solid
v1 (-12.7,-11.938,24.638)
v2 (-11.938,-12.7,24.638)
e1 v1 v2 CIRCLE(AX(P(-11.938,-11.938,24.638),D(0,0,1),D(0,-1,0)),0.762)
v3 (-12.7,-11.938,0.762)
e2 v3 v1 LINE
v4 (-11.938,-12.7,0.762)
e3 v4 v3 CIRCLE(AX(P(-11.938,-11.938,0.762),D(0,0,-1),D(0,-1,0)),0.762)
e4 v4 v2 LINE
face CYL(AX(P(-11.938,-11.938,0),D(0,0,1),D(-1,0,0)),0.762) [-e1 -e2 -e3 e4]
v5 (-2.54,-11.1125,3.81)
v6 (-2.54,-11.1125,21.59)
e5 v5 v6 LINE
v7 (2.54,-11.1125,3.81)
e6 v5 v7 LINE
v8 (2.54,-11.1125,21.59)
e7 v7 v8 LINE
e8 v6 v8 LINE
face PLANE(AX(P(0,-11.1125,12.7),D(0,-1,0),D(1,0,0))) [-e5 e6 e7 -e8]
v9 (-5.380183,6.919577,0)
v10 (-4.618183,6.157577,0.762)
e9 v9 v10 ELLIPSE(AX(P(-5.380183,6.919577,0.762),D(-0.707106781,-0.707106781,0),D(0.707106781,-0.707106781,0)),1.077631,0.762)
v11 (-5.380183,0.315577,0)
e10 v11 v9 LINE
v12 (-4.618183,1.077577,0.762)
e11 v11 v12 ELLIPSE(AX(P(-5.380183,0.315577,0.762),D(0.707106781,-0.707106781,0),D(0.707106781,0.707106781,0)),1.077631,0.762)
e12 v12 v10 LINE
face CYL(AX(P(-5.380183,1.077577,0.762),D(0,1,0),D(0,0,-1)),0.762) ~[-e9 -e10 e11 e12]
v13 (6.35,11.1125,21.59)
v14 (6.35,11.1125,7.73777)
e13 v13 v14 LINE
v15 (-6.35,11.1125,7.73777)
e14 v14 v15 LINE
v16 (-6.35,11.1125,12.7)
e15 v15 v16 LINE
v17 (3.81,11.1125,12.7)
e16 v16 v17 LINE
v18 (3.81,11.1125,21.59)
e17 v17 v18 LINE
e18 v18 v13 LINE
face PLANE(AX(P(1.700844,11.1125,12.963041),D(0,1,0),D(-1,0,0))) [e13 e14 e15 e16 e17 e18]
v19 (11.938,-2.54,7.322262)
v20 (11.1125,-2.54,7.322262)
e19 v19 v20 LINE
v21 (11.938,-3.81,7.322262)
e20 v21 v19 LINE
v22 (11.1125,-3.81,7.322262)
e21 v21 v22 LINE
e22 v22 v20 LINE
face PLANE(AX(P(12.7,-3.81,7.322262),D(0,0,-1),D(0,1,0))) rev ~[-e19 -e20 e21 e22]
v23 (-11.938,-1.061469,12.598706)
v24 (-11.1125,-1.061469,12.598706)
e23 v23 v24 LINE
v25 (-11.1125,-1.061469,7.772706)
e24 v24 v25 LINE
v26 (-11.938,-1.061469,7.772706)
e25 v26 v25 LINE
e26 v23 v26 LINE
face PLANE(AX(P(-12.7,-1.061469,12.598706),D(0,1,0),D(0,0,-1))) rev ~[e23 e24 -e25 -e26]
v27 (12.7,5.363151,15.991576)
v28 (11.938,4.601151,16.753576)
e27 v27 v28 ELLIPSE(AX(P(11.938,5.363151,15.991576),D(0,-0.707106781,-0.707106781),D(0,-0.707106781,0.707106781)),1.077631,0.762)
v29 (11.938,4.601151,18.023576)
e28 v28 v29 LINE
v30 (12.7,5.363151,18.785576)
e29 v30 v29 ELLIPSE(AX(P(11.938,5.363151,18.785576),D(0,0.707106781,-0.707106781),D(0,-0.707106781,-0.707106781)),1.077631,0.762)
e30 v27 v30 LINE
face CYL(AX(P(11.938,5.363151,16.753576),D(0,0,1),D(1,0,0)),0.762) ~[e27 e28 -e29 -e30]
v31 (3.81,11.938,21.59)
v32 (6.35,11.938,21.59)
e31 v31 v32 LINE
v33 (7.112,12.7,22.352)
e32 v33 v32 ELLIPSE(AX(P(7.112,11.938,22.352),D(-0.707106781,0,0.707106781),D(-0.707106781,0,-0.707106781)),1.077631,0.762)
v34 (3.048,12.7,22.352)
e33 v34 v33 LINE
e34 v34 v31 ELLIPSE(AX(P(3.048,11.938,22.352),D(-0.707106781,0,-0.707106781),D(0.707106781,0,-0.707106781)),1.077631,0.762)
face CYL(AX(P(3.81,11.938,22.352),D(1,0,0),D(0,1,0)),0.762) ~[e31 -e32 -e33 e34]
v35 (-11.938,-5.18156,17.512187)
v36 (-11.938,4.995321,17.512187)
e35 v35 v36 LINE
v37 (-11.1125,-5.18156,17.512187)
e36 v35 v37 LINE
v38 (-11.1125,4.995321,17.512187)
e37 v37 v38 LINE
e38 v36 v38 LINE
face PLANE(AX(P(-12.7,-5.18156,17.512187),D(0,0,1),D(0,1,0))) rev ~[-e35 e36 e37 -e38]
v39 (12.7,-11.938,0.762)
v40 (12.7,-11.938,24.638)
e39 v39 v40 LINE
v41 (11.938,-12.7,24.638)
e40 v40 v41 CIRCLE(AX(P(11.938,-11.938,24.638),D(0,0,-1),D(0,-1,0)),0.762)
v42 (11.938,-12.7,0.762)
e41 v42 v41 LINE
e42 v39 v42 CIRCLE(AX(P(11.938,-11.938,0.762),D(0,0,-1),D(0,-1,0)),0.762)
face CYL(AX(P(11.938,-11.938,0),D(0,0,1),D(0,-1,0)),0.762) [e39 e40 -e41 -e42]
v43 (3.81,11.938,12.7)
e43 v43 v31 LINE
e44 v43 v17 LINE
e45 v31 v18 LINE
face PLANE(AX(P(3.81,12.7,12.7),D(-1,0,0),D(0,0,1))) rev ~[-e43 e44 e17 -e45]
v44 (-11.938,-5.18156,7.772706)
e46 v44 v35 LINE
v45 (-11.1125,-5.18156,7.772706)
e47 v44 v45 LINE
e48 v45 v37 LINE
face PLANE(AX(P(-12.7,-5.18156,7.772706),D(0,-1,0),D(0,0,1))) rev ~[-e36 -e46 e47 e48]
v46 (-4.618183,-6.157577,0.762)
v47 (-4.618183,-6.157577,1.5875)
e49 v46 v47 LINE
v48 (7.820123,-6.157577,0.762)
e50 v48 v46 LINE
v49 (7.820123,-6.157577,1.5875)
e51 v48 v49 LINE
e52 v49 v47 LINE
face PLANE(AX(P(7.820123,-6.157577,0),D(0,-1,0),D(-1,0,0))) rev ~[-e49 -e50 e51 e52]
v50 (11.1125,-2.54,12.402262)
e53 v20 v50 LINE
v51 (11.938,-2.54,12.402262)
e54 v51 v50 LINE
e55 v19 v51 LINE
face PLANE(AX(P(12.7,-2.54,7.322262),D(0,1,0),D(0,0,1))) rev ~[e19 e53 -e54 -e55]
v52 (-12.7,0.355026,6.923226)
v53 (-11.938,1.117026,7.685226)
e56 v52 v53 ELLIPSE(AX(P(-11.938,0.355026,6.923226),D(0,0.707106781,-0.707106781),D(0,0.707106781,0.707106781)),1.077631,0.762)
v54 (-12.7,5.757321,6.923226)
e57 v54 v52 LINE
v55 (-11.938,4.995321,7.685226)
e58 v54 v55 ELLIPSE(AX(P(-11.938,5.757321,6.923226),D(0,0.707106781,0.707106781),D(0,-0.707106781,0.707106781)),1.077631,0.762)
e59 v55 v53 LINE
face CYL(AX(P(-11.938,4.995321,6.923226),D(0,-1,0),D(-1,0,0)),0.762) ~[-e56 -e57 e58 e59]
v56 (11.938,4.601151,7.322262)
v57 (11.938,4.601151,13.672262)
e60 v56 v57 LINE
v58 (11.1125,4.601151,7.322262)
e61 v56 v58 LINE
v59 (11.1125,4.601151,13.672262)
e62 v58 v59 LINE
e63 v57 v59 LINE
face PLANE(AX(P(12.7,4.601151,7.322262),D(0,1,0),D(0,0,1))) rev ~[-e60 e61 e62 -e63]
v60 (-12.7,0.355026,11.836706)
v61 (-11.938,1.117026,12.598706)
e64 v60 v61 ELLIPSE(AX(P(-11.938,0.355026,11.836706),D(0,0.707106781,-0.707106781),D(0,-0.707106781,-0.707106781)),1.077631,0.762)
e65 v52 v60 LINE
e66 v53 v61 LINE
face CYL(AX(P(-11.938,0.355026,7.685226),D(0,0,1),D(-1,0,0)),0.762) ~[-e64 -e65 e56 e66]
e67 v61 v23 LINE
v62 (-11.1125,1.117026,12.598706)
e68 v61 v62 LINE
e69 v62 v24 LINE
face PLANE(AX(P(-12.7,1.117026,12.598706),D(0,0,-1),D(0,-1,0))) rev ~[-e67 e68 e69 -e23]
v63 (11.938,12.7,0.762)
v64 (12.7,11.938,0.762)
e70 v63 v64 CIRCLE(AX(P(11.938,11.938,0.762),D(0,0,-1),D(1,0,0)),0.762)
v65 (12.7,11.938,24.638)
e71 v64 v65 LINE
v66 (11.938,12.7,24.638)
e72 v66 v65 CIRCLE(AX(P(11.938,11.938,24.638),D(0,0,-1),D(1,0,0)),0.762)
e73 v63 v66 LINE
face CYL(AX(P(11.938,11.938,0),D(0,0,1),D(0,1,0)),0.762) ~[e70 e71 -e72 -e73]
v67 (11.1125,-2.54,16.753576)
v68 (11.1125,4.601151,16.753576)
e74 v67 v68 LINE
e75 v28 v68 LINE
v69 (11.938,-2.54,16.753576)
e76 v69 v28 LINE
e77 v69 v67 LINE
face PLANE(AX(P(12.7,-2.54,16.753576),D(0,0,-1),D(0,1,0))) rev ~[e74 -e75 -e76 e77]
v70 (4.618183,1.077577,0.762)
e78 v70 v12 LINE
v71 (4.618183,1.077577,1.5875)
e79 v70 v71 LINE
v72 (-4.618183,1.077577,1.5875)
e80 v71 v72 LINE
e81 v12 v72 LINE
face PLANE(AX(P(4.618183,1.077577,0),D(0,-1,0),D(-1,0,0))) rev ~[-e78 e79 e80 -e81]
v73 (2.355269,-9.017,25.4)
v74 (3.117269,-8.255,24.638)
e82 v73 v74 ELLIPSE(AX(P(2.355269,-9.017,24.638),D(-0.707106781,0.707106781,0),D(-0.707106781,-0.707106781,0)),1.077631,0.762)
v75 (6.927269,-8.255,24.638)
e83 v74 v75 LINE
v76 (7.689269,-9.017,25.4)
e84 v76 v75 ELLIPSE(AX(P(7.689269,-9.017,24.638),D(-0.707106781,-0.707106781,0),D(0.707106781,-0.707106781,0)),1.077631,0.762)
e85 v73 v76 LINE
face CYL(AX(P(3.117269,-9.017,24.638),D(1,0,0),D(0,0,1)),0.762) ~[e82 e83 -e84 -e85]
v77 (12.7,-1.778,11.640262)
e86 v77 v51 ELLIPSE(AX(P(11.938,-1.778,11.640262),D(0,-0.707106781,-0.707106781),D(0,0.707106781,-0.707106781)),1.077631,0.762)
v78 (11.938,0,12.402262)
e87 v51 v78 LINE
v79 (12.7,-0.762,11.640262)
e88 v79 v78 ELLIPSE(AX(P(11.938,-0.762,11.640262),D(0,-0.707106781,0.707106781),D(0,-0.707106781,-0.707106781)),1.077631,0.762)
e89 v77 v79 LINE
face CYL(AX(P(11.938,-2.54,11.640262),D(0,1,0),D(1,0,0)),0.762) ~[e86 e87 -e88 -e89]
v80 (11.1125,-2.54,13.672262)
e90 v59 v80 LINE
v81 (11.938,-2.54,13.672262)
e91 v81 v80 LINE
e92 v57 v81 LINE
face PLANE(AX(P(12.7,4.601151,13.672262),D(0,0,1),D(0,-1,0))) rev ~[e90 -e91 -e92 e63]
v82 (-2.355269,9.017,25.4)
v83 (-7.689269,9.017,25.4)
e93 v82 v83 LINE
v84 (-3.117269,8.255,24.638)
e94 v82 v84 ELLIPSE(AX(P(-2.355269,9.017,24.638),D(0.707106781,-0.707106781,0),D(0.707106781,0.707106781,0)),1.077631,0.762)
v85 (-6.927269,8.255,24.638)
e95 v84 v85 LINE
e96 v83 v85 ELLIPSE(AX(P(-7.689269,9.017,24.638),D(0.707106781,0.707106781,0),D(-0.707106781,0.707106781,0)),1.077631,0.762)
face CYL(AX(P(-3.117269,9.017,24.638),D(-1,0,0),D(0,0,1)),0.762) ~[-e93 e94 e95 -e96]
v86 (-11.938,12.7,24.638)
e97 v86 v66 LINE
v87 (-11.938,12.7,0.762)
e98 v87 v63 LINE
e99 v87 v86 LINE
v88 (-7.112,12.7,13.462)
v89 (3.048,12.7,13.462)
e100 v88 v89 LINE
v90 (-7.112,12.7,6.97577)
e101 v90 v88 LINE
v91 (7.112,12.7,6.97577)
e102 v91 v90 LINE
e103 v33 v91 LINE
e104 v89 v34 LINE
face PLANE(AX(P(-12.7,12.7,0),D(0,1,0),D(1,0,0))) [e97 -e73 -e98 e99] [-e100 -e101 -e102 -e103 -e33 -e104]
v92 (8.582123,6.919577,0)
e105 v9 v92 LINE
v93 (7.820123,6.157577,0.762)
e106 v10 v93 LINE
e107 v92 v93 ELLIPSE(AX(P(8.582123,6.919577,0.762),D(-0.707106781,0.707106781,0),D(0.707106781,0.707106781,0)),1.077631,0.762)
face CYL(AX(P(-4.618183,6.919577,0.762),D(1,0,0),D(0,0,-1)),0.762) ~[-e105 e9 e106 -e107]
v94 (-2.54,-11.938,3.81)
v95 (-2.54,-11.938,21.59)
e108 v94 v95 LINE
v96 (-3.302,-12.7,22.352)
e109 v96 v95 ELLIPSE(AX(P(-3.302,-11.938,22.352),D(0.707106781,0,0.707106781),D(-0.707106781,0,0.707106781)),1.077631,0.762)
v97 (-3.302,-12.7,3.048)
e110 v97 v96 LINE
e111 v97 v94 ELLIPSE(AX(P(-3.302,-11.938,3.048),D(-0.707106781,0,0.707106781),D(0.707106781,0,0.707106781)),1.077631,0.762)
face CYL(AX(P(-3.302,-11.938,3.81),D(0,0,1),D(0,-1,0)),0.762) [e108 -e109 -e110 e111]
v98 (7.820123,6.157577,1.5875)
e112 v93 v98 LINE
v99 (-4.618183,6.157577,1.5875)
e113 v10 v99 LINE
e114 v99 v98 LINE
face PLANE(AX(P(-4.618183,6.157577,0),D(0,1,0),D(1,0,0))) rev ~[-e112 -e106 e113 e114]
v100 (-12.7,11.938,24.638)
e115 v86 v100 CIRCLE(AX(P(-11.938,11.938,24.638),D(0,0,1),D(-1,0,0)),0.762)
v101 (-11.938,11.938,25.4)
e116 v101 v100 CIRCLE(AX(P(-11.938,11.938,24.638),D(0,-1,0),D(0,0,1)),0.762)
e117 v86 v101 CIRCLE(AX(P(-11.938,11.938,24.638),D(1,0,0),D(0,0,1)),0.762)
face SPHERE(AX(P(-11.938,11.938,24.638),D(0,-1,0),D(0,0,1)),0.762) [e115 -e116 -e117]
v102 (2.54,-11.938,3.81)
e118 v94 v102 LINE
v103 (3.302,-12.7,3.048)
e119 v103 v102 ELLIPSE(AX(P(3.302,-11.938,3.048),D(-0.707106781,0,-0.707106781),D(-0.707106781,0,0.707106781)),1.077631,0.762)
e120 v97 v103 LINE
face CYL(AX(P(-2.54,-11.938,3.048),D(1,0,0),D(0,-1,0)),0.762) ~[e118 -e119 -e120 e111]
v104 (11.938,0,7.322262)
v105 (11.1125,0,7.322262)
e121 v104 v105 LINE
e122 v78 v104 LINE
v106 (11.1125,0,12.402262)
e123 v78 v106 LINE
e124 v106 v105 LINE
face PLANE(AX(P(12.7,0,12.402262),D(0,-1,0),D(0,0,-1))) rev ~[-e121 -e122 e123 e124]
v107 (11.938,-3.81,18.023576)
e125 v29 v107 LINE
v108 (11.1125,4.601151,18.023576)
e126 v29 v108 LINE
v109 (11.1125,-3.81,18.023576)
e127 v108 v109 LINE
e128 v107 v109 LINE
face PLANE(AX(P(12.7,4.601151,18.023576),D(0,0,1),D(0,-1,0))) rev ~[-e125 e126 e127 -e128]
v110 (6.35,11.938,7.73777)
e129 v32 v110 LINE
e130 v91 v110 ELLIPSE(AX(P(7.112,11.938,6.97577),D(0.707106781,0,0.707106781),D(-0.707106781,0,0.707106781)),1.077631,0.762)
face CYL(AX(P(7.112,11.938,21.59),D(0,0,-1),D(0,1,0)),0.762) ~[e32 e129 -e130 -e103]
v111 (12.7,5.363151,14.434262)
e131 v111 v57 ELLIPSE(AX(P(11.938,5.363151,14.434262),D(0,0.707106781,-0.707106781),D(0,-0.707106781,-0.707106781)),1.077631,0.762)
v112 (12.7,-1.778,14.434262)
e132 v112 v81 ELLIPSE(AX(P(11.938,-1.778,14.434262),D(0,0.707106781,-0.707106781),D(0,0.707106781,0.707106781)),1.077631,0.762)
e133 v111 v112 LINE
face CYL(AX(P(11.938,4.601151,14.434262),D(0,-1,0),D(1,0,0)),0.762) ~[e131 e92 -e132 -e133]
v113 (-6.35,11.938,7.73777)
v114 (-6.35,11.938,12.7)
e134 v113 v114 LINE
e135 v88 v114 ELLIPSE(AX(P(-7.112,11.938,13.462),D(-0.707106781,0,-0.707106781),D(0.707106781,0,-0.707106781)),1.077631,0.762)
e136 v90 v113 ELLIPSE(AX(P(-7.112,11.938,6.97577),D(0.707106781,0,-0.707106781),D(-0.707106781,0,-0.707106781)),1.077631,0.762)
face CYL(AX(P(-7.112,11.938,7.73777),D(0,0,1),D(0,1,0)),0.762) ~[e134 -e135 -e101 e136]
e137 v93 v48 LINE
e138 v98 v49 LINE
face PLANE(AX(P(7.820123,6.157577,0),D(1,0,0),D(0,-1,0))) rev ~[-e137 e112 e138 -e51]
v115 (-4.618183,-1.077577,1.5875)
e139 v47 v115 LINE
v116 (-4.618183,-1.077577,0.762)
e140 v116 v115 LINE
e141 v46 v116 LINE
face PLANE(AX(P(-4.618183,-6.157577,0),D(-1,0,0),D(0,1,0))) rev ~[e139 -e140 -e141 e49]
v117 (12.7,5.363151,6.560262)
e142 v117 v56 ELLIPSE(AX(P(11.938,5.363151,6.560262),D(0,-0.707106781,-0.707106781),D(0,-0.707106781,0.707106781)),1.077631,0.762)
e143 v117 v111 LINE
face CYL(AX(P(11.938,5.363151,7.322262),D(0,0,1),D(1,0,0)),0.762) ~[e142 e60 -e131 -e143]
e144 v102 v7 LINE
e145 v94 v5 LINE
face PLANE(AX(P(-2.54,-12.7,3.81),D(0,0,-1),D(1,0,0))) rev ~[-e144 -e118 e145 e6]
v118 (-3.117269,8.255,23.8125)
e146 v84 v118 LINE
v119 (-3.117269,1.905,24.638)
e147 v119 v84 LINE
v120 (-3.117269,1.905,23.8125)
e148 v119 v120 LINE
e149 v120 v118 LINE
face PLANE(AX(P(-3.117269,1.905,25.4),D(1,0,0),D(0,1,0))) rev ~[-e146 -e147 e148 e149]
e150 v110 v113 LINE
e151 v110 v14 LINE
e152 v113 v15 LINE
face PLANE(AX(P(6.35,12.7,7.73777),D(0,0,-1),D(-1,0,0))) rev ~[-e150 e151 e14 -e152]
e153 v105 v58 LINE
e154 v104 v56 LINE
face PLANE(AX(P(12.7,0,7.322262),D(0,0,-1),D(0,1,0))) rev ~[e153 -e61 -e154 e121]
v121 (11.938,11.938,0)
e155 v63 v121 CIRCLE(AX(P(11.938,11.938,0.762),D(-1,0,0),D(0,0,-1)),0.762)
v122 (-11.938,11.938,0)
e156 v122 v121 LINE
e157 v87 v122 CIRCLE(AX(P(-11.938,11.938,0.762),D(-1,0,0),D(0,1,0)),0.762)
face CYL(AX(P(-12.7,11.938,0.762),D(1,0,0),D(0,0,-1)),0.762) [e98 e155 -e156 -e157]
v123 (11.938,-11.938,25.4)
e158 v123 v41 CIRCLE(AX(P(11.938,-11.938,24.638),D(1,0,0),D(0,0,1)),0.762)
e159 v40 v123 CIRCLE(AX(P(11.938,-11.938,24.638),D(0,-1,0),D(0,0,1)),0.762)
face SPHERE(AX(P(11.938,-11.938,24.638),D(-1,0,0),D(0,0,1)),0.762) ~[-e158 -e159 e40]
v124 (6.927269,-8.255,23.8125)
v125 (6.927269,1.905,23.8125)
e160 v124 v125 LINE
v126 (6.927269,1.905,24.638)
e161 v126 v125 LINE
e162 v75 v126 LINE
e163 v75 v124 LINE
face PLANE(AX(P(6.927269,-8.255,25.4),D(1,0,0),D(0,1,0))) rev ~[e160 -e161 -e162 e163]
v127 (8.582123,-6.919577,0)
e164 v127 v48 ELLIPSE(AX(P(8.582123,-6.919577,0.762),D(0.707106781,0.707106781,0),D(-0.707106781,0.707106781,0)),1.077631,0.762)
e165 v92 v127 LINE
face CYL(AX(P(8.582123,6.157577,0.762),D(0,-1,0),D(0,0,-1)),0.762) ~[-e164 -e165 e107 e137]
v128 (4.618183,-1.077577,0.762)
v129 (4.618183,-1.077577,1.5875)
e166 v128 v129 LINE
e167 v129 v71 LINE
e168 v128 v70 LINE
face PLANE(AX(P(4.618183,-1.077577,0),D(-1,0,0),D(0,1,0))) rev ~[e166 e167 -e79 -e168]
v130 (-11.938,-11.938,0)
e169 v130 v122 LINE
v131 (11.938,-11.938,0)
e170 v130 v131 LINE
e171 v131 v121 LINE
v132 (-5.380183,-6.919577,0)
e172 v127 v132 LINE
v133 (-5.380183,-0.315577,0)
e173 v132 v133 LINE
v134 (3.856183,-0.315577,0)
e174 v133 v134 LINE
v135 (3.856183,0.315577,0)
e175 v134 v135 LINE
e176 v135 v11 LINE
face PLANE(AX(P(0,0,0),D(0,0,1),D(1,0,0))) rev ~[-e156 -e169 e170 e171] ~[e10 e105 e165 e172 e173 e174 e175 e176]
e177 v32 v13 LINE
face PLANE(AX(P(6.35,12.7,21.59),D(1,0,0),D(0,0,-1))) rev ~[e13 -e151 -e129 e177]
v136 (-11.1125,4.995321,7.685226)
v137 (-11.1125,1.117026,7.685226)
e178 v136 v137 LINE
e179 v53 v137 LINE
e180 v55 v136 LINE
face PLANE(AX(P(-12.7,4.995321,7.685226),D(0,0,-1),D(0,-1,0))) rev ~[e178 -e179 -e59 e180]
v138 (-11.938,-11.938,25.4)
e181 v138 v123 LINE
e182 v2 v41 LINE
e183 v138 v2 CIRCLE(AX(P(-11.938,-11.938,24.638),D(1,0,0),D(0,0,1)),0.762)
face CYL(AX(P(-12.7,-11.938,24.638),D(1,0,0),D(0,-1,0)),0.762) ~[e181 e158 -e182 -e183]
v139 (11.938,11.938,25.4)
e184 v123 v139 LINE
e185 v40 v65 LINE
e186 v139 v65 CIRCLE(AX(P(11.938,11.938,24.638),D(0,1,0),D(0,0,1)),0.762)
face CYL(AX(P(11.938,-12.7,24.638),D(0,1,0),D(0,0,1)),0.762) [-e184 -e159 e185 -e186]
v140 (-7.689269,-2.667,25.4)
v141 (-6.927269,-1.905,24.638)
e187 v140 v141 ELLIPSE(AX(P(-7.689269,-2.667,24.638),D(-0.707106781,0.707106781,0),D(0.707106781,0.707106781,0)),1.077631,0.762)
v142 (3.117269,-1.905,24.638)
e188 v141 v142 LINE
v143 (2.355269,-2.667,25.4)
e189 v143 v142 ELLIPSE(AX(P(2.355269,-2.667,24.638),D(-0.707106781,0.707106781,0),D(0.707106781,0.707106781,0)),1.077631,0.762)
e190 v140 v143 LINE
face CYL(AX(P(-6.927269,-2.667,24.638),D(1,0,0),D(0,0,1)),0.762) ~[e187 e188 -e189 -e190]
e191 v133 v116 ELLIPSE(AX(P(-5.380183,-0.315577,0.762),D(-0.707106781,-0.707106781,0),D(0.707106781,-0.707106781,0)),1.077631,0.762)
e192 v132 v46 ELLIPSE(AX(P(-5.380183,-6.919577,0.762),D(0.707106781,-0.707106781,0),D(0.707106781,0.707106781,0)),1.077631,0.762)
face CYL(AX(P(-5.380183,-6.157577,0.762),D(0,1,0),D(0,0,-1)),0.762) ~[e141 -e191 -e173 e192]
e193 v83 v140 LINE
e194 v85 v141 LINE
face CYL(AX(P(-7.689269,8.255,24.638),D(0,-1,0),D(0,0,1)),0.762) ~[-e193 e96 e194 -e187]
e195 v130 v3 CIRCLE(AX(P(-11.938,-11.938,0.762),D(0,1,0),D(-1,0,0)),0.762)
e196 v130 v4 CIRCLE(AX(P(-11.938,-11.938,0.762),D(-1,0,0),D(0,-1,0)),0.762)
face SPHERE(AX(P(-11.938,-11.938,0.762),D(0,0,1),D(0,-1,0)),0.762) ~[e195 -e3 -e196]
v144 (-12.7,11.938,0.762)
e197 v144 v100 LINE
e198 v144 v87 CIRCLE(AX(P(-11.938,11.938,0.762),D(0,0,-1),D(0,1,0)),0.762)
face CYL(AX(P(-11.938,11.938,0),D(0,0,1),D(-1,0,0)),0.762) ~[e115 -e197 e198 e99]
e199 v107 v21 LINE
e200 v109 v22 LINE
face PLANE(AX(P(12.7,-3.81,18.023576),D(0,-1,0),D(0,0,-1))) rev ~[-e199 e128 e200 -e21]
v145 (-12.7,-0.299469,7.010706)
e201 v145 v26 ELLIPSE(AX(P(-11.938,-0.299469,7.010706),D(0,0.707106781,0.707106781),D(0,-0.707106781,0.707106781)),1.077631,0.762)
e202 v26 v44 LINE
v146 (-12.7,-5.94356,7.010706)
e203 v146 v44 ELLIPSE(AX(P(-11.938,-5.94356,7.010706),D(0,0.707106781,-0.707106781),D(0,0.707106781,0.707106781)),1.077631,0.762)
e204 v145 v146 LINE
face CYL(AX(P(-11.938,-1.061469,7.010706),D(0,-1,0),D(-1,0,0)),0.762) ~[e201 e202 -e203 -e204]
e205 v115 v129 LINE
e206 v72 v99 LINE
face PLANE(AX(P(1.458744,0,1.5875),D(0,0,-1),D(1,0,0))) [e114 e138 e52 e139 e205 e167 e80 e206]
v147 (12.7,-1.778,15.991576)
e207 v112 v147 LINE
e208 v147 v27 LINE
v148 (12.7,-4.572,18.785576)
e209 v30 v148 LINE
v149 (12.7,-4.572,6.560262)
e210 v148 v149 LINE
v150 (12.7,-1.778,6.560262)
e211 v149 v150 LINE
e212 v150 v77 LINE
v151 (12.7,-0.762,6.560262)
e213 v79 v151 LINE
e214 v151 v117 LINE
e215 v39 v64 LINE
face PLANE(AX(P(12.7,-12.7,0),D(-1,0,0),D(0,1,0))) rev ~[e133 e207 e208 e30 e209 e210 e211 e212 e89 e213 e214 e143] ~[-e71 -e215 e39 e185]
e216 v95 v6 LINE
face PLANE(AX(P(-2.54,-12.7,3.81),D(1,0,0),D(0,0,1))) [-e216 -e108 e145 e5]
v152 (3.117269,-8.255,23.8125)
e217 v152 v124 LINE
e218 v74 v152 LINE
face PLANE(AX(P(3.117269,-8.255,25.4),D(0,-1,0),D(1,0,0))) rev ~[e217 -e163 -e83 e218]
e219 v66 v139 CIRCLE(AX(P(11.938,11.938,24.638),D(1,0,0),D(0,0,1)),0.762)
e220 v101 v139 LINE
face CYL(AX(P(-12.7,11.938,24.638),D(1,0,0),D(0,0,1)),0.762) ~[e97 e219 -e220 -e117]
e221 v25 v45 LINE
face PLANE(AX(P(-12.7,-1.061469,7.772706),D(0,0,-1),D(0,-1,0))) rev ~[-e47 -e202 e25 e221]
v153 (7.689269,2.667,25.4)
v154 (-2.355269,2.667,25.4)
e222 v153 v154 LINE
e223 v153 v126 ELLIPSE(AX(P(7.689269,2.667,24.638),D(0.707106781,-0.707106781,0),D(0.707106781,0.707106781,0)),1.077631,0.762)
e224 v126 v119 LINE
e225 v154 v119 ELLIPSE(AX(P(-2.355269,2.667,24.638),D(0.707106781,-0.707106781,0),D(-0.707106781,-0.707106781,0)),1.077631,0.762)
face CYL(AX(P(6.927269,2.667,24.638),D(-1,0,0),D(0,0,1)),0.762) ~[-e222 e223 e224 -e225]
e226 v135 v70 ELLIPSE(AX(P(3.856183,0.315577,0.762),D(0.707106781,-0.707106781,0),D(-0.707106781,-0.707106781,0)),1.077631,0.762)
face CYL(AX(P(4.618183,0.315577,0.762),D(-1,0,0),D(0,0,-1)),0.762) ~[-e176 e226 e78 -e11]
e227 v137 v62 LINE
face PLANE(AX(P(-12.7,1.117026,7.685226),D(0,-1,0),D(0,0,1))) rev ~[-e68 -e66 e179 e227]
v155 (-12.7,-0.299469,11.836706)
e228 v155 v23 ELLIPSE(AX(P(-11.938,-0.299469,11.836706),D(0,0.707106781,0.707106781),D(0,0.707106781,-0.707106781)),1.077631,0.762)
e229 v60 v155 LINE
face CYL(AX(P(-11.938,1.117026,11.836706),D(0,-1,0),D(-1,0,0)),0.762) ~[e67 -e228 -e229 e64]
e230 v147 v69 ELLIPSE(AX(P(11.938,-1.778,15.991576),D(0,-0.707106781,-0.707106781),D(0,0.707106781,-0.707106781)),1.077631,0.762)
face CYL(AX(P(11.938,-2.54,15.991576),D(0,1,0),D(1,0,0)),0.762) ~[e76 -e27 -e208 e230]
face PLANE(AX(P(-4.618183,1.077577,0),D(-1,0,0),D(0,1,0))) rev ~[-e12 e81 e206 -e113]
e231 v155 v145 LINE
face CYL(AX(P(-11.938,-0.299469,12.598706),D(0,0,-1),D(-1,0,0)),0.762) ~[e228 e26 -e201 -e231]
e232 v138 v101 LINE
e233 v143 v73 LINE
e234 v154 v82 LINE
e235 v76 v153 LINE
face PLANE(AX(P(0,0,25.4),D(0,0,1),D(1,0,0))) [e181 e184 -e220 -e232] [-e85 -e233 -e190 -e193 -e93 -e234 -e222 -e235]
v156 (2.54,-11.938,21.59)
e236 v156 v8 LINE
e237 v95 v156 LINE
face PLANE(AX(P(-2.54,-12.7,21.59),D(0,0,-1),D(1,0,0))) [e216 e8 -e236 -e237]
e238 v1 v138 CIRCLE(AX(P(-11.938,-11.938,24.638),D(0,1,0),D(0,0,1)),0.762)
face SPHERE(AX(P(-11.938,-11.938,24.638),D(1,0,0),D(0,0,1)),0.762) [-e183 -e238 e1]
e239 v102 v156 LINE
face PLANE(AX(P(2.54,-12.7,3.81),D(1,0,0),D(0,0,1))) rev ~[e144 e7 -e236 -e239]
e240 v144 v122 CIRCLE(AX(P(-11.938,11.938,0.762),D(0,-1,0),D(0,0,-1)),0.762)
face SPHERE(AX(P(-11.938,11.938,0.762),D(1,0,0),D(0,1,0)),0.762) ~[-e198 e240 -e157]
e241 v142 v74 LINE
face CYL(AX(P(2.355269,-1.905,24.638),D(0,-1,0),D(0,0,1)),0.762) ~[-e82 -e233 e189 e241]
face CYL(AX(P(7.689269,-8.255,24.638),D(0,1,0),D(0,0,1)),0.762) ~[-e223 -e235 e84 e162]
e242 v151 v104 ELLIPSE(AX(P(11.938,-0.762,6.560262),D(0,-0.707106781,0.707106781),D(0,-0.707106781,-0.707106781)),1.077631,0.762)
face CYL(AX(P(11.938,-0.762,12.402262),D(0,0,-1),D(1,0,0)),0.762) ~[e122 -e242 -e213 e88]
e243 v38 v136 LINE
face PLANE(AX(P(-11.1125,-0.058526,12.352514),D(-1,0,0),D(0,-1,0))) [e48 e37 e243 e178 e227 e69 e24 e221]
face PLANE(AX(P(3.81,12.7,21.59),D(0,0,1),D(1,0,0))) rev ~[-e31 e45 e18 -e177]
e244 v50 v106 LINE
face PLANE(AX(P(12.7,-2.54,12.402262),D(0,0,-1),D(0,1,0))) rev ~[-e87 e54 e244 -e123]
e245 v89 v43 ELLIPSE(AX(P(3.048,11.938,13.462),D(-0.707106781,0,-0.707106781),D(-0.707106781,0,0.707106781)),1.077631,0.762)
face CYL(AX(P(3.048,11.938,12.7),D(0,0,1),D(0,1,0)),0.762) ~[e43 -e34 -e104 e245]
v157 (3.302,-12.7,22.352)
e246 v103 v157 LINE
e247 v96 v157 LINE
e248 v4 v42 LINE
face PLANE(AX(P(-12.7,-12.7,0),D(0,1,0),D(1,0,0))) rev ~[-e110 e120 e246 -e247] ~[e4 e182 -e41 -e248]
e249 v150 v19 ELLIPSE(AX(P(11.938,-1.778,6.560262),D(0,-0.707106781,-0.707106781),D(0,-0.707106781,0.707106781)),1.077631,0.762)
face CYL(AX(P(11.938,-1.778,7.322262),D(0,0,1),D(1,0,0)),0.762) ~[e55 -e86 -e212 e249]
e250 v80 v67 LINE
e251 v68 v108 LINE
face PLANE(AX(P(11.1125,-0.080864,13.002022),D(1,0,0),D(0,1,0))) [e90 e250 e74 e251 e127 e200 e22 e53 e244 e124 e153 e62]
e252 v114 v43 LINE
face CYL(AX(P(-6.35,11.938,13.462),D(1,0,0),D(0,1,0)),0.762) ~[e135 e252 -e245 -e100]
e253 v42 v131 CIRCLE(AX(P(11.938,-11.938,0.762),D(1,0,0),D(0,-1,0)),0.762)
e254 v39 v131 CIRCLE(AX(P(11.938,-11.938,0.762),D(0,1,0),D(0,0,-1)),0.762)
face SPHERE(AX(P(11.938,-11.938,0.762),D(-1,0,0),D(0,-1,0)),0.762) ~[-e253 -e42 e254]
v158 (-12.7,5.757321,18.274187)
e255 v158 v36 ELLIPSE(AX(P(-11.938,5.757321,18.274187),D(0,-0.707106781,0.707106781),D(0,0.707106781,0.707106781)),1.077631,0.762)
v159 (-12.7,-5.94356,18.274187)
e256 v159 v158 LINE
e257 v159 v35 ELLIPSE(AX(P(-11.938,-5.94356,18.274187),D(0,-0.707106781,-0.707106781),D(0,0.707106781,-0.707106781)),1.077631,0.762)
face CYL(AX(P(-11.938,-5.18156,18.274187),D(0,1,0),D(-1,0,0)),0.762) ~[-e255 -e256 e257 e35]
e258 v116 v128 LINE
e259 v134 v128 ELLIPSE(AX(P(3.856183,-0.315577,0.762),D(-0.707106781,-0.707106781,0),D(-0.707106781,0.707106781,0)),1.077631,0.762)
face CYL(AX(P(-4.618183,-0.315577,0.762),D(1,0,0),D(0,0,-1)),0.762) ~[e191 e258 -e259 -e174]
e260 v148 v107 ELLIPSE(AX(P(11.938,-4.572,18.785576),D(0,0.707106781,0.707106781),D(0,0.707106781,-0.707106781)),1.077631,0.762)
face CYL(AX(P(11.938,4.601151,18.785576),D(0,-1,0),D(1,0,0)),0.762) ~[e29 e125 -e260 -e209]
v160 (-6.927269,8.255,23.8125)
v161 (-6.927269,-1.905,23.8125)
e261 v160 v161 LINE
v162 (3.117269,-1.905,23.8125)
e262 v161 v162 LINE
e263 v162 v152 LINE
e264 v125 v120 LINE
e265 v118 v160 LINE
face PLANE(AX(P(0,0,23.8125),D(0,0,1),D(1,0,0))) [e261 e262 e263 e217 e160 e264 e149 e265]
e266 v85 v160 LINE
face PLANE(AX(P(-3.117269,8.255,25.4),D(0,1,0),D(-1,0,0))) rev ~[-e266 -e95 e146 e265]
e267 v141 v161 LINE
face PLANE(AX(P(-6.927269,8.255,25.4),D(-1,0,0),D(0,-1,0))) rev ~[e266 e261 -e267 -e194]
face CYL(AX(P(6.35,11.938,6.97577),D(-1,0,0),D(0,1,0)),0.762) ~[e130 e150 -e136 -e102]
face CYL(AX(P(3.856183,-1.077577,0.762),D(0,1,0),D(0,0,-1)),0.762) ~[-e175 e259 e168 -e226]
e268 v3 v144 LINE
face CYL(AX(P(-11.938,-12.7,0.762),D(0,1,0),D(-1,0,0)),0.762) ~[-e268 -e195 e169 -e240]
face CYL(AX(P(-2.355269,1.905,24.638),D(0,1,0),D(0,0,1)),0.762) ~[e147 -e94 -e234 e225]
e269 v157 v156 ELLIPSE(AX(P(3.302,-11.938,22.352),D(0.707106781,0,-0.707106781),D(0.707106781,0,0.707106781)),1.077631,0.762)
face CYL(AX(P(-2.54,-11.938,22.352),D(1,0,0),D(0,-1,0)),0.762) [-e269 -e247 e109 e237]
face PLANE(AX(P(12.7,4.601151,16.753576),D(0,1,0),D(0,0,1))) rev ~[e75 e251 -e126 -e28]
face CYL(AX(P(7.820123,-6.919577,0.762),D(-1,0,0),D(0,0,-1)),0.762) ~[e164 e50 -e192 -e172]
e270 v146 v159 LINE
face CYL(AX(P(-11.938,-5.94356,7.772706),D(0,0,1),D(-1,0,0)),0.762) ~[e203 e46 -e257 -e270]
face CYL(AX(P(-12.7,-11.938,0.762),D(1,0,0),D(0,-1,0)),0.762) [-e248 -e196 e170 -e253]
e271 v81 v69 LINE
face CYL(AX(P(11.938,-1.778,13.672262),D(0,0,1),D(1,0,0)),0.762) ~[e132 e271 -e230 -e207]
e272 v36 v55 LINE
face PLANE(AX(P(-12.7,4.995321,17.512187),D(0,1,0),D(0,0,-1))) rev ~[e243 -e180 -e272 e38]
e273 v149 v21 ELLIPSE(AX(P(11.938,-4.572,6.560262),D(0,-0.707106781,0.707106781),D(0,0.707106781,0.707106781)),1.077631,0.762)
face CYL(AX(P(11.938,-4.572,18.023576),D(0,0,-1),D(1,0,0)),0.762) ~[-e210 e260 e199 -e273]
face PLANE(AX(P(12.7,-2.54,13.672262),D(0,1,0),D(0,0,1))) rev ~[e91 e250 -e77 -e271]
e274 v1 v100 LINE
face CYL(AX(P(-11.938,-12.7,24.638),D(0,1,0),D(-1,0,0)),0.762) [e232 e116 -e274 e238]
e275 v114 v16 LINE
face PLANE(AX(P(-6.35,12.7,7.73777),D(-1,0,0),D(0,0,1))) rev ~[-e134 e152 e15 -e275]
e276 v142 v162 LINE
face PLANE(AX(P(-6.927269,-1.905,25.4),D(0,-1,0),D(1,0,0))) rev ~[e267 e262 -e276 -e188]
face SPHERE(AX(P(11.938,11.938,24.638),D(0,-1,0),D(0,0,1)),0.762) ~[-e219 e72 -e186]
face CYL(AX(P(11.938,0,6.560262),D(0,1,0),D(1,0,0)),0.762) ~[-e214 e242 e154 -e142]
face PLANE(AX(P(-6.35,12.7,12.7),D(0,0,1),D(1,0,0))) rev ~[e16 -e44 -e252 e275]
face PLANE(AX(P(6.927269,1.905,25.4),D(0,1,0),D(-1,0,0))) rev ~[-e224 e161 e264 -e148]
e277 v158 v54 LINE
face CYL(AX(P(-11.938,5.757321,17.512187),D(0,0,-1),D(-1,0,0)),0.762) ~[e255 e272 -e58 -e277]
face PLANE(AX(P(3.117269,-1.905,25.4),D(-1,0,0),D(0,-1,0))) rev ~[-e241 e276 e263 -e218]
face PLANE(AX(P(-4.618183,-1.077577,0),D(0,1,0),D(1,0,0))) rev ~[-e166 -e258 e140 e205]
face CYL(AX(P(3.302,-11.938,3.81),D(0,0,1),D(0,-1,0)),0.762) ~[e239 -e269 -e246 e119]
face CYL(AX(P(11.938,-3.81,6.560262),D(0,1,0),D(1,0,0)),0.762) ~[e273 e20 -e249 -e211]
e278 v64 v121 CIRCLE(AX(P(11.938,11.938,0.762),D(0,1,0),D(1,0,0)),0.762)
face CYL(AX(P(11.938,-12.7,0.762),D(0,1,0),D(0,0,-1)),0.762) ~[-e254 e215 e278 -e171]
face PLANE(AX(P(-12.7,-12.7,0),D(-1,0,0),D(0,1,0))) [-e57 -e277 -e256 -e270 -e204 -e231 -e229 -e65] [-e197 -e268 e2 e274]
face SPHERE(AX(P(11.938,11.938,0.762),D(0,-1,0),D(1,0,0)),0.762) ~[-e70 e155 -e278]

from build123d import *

# Parameters (mm, degrees)
F0_W      = 25.4
F0_H      = 25.4
F1_DEPTH  = 25.4
F8_DEPTH  = 1.5875
F2_W      = 5.08
F2_H      = 17.78
F9_DEPTH  = 1.5875
F10_DEPTH = 1.5875
F11_DEPTH = 1.5875
F12_DEPTH = 1.5875
F13_DEPTH = 1.5875
F14_R     = 0.762


with BuildPart() as f1:
    # F0 (on Top) → F1 (new body)
    with BuildSketch(Plane.XY):
        Rectangle(F0_W, F0_H)
    extrude(amount=F1_DEPTH)

    # F7 (on face) → F8 (cut)
    with BuildSketch(Plane(origin=(-12.7, 0, 0), x_dir=(0, -1, 0), z_dir=(-1, 0, 0))):
        Polygon((-4.9953212532, 7.685226252), (-1.1170259365, 7.685226252), (-1.1170259365, 12.5987064093), (1.0614689121, 12.5987064093), (1.0614689121, 7.7727064093), (5.1815596911, 7.7727064093), (5.1815596911, 17.5121865667), (1.0614689121, 17.5121865667), (-1.1170259365, 17.5121865667), (-4.9953212532, 17.5121865667), align=None)
    extrude(amount=-F8_DEPTH, mode=Mode.SUBTRACT)

    # F2 (on face) → F9 (cut)
    with BuildSketch(Plane.XZ.offset(12.7)):
        with Locations((0, 12.7)):
            Rectangle(F2_W, F2_H)
    extrude(amount=-F9_DEPTH, mode=Mode.SUBTRACT)

    # F6 (on face) → F10 (cut)
    with BuildSketch(Plane.YZ.offset(12.7)):
        Polygon((0, 7.3222619789), (4.6011506993, 7.3222619789), (4.6011506993, 12.4022619789), (4.6011506993, 13.6722619789), (-2.54, 13.6722619789), (-2.54, 16.7535761464), (4.6011506993, 16.7535761464), (4.6011506993, 18.0235761464), (-2.54, 18.0235761464), (-3.81, 18.0235761464), (-3.81, 7.3222619789), (-2.54, 7.3222619789), (-2.54, 12.4022619789), (0, 12.4022619789), align=None)
    extrude(amount=-F10_DEPTH, mode=Mode.SUBTRACT)

    # F4 (on face) → F11 (cut)
    with BuildSketch(Plane(origin=(0, 12.7, 0), x_dir=(-1, 0, 0), z_dir=(0, 1, 0))):
        Polygon((6.35, 7.737770211), (6.35, 12.7), (-3.81, 12.7), (-3.81, 21.59), (-6.35, 21.59), (-6.35, 12.7), (-6.35, 7.737770211), align=None)
    extrude(amount=-F11_DEPTH, mode=Mode.SUBTRACT)

    # F3 (on face) → F12 (cut)
    with BuildSketch(Plane.XY.offset(25.4)):
        Polygon((-6.9272688269, 1.905), (-6.9272688269, -1.905), (3.1172688269, -1.905), (3.1172688269, -8.255), (6.9272688269, -8.255), (6.9272688269, -1.905), (6.9272688269, 1.905), (-3.1172688269, 1.905), (-3.1172688269, 8.255), (-6.9272688269, 8.255), align=None)
    extrude(amount=-F12_DEPTH, mode=Mode.SUBTRACT)

    # F5 (on face) → F13 (cut)
    with BuildSketch(Plane(origin=(0, 0, 0), x_dir=(1, 0, 0), z_dir=(0, 0, -1))):
        Polygon((-4.6181826849, 6.1575769132), (-4.6181826849, 1.0775769132), (4.6181826849, 1.0775769132), (4.6181826849, -1.0775769132), (-4.6181826849, -1.0775769132), (-4.6181826849, -6.1575769132), (4.6181826849, -6.1575769132), (7.8201234426, -6.1575769132), (7.8201234426, 6.1575769132), (4.6181826849, 6.1575769132), align=None)
    extrude(amount=-F13_DEPTH, mode=Mode.SUBTRACT)

    # F14
    f14_edges = [f1.edges().sort_by_distance(p)[0] for p in [
        (0, -12.7, 25.4),
        (-12.7, 0, 25.4),
        (12.7, 0, 25.4),
        (0, 12.7, 25.4),
        (-1.905, -1.905, 25.4),
        (3.117269, -5.08, 25.4),
        (5.022269, -8.255, 25.4),
        (6.927269, -3.175, 25.4),
        (1.905, 1.905, 25.4),
        (-3.117269, 5.08, 25.4),
        (-5.022269, 8.255, 25.4),
        (-6.927269, 3.175, 25.4),
        (-12.7, -12.7, 12.7),
        (0, -12.7, 0),
        (12.7, -12.7, 12.7),
        (-2.54, -12.7, 12.7),
        (0, -12.7, 21.59),
        (2.54, -12.7, 12.7),
        (0, -12.7, 3.81),
        (12.7, 0, 0),
        (12.7, 12.7, 12.7),
        (12.7, 0, 9.862262),
        (12.7, -1.27, 12.402262),
        (12.7, -2.54, 9.862262),
        (12.7, -3.175, 7.322262),
        (12.7, -3.81, 12.672919),
        (12.7, 0.395575, 18.023576),
        (12.7, 4.601151, 17.388576),
        (12.7, 1.030575, 16.753576),
        (12.7, -2.54, 15.212919),
        (12.7, 1.030575, 13.672262),
        (12.7, 4.601151, 10.497262),
        (12.7, 2.300575, 7.322262),
        (0, 12.7, 0),
        (-12.7, 12.7, 12.7),
        (0, 12.7, 7.73777),
        (6.35, 12.7, 14.663885),
        (5.08, 12.7, 21.59),
        (3.81, 12.7, 17.145),
        (-1.27, 12.7, 12.7),
        (-6.35, 12.7, 10.218885),
        (-12.7, 0, 0),
        (-12.7, -0.093119, 17.512187),
        (-12.7, -5.18156, 12.642446),
        (-12.7, -3.121514, 7.772706),
        (-12.7, -1.061469, 10.185706),
        (-12.7, 0.027779, 12.598706),
        (-12.7, 1.117026, 10.141966),
        (-12.7, 3.056174, 7.685226),
        (-12.7, 4.995321, 12.598706),
        (1.60097, 6.157577, 0),
        (-4.618183, 3.617577, 0),
        (0, 1.077577, 0),
        (4.618183, 0, 0),
        (0, -1.077577, 0),
        (-4.618183, -3.617577, 0),
        (1.60097, -6.157577, 0),
        (7.820123, 0, 0),
    ]]
    fillet(f14_edges, radius=F14_R)


solid = f1.part
